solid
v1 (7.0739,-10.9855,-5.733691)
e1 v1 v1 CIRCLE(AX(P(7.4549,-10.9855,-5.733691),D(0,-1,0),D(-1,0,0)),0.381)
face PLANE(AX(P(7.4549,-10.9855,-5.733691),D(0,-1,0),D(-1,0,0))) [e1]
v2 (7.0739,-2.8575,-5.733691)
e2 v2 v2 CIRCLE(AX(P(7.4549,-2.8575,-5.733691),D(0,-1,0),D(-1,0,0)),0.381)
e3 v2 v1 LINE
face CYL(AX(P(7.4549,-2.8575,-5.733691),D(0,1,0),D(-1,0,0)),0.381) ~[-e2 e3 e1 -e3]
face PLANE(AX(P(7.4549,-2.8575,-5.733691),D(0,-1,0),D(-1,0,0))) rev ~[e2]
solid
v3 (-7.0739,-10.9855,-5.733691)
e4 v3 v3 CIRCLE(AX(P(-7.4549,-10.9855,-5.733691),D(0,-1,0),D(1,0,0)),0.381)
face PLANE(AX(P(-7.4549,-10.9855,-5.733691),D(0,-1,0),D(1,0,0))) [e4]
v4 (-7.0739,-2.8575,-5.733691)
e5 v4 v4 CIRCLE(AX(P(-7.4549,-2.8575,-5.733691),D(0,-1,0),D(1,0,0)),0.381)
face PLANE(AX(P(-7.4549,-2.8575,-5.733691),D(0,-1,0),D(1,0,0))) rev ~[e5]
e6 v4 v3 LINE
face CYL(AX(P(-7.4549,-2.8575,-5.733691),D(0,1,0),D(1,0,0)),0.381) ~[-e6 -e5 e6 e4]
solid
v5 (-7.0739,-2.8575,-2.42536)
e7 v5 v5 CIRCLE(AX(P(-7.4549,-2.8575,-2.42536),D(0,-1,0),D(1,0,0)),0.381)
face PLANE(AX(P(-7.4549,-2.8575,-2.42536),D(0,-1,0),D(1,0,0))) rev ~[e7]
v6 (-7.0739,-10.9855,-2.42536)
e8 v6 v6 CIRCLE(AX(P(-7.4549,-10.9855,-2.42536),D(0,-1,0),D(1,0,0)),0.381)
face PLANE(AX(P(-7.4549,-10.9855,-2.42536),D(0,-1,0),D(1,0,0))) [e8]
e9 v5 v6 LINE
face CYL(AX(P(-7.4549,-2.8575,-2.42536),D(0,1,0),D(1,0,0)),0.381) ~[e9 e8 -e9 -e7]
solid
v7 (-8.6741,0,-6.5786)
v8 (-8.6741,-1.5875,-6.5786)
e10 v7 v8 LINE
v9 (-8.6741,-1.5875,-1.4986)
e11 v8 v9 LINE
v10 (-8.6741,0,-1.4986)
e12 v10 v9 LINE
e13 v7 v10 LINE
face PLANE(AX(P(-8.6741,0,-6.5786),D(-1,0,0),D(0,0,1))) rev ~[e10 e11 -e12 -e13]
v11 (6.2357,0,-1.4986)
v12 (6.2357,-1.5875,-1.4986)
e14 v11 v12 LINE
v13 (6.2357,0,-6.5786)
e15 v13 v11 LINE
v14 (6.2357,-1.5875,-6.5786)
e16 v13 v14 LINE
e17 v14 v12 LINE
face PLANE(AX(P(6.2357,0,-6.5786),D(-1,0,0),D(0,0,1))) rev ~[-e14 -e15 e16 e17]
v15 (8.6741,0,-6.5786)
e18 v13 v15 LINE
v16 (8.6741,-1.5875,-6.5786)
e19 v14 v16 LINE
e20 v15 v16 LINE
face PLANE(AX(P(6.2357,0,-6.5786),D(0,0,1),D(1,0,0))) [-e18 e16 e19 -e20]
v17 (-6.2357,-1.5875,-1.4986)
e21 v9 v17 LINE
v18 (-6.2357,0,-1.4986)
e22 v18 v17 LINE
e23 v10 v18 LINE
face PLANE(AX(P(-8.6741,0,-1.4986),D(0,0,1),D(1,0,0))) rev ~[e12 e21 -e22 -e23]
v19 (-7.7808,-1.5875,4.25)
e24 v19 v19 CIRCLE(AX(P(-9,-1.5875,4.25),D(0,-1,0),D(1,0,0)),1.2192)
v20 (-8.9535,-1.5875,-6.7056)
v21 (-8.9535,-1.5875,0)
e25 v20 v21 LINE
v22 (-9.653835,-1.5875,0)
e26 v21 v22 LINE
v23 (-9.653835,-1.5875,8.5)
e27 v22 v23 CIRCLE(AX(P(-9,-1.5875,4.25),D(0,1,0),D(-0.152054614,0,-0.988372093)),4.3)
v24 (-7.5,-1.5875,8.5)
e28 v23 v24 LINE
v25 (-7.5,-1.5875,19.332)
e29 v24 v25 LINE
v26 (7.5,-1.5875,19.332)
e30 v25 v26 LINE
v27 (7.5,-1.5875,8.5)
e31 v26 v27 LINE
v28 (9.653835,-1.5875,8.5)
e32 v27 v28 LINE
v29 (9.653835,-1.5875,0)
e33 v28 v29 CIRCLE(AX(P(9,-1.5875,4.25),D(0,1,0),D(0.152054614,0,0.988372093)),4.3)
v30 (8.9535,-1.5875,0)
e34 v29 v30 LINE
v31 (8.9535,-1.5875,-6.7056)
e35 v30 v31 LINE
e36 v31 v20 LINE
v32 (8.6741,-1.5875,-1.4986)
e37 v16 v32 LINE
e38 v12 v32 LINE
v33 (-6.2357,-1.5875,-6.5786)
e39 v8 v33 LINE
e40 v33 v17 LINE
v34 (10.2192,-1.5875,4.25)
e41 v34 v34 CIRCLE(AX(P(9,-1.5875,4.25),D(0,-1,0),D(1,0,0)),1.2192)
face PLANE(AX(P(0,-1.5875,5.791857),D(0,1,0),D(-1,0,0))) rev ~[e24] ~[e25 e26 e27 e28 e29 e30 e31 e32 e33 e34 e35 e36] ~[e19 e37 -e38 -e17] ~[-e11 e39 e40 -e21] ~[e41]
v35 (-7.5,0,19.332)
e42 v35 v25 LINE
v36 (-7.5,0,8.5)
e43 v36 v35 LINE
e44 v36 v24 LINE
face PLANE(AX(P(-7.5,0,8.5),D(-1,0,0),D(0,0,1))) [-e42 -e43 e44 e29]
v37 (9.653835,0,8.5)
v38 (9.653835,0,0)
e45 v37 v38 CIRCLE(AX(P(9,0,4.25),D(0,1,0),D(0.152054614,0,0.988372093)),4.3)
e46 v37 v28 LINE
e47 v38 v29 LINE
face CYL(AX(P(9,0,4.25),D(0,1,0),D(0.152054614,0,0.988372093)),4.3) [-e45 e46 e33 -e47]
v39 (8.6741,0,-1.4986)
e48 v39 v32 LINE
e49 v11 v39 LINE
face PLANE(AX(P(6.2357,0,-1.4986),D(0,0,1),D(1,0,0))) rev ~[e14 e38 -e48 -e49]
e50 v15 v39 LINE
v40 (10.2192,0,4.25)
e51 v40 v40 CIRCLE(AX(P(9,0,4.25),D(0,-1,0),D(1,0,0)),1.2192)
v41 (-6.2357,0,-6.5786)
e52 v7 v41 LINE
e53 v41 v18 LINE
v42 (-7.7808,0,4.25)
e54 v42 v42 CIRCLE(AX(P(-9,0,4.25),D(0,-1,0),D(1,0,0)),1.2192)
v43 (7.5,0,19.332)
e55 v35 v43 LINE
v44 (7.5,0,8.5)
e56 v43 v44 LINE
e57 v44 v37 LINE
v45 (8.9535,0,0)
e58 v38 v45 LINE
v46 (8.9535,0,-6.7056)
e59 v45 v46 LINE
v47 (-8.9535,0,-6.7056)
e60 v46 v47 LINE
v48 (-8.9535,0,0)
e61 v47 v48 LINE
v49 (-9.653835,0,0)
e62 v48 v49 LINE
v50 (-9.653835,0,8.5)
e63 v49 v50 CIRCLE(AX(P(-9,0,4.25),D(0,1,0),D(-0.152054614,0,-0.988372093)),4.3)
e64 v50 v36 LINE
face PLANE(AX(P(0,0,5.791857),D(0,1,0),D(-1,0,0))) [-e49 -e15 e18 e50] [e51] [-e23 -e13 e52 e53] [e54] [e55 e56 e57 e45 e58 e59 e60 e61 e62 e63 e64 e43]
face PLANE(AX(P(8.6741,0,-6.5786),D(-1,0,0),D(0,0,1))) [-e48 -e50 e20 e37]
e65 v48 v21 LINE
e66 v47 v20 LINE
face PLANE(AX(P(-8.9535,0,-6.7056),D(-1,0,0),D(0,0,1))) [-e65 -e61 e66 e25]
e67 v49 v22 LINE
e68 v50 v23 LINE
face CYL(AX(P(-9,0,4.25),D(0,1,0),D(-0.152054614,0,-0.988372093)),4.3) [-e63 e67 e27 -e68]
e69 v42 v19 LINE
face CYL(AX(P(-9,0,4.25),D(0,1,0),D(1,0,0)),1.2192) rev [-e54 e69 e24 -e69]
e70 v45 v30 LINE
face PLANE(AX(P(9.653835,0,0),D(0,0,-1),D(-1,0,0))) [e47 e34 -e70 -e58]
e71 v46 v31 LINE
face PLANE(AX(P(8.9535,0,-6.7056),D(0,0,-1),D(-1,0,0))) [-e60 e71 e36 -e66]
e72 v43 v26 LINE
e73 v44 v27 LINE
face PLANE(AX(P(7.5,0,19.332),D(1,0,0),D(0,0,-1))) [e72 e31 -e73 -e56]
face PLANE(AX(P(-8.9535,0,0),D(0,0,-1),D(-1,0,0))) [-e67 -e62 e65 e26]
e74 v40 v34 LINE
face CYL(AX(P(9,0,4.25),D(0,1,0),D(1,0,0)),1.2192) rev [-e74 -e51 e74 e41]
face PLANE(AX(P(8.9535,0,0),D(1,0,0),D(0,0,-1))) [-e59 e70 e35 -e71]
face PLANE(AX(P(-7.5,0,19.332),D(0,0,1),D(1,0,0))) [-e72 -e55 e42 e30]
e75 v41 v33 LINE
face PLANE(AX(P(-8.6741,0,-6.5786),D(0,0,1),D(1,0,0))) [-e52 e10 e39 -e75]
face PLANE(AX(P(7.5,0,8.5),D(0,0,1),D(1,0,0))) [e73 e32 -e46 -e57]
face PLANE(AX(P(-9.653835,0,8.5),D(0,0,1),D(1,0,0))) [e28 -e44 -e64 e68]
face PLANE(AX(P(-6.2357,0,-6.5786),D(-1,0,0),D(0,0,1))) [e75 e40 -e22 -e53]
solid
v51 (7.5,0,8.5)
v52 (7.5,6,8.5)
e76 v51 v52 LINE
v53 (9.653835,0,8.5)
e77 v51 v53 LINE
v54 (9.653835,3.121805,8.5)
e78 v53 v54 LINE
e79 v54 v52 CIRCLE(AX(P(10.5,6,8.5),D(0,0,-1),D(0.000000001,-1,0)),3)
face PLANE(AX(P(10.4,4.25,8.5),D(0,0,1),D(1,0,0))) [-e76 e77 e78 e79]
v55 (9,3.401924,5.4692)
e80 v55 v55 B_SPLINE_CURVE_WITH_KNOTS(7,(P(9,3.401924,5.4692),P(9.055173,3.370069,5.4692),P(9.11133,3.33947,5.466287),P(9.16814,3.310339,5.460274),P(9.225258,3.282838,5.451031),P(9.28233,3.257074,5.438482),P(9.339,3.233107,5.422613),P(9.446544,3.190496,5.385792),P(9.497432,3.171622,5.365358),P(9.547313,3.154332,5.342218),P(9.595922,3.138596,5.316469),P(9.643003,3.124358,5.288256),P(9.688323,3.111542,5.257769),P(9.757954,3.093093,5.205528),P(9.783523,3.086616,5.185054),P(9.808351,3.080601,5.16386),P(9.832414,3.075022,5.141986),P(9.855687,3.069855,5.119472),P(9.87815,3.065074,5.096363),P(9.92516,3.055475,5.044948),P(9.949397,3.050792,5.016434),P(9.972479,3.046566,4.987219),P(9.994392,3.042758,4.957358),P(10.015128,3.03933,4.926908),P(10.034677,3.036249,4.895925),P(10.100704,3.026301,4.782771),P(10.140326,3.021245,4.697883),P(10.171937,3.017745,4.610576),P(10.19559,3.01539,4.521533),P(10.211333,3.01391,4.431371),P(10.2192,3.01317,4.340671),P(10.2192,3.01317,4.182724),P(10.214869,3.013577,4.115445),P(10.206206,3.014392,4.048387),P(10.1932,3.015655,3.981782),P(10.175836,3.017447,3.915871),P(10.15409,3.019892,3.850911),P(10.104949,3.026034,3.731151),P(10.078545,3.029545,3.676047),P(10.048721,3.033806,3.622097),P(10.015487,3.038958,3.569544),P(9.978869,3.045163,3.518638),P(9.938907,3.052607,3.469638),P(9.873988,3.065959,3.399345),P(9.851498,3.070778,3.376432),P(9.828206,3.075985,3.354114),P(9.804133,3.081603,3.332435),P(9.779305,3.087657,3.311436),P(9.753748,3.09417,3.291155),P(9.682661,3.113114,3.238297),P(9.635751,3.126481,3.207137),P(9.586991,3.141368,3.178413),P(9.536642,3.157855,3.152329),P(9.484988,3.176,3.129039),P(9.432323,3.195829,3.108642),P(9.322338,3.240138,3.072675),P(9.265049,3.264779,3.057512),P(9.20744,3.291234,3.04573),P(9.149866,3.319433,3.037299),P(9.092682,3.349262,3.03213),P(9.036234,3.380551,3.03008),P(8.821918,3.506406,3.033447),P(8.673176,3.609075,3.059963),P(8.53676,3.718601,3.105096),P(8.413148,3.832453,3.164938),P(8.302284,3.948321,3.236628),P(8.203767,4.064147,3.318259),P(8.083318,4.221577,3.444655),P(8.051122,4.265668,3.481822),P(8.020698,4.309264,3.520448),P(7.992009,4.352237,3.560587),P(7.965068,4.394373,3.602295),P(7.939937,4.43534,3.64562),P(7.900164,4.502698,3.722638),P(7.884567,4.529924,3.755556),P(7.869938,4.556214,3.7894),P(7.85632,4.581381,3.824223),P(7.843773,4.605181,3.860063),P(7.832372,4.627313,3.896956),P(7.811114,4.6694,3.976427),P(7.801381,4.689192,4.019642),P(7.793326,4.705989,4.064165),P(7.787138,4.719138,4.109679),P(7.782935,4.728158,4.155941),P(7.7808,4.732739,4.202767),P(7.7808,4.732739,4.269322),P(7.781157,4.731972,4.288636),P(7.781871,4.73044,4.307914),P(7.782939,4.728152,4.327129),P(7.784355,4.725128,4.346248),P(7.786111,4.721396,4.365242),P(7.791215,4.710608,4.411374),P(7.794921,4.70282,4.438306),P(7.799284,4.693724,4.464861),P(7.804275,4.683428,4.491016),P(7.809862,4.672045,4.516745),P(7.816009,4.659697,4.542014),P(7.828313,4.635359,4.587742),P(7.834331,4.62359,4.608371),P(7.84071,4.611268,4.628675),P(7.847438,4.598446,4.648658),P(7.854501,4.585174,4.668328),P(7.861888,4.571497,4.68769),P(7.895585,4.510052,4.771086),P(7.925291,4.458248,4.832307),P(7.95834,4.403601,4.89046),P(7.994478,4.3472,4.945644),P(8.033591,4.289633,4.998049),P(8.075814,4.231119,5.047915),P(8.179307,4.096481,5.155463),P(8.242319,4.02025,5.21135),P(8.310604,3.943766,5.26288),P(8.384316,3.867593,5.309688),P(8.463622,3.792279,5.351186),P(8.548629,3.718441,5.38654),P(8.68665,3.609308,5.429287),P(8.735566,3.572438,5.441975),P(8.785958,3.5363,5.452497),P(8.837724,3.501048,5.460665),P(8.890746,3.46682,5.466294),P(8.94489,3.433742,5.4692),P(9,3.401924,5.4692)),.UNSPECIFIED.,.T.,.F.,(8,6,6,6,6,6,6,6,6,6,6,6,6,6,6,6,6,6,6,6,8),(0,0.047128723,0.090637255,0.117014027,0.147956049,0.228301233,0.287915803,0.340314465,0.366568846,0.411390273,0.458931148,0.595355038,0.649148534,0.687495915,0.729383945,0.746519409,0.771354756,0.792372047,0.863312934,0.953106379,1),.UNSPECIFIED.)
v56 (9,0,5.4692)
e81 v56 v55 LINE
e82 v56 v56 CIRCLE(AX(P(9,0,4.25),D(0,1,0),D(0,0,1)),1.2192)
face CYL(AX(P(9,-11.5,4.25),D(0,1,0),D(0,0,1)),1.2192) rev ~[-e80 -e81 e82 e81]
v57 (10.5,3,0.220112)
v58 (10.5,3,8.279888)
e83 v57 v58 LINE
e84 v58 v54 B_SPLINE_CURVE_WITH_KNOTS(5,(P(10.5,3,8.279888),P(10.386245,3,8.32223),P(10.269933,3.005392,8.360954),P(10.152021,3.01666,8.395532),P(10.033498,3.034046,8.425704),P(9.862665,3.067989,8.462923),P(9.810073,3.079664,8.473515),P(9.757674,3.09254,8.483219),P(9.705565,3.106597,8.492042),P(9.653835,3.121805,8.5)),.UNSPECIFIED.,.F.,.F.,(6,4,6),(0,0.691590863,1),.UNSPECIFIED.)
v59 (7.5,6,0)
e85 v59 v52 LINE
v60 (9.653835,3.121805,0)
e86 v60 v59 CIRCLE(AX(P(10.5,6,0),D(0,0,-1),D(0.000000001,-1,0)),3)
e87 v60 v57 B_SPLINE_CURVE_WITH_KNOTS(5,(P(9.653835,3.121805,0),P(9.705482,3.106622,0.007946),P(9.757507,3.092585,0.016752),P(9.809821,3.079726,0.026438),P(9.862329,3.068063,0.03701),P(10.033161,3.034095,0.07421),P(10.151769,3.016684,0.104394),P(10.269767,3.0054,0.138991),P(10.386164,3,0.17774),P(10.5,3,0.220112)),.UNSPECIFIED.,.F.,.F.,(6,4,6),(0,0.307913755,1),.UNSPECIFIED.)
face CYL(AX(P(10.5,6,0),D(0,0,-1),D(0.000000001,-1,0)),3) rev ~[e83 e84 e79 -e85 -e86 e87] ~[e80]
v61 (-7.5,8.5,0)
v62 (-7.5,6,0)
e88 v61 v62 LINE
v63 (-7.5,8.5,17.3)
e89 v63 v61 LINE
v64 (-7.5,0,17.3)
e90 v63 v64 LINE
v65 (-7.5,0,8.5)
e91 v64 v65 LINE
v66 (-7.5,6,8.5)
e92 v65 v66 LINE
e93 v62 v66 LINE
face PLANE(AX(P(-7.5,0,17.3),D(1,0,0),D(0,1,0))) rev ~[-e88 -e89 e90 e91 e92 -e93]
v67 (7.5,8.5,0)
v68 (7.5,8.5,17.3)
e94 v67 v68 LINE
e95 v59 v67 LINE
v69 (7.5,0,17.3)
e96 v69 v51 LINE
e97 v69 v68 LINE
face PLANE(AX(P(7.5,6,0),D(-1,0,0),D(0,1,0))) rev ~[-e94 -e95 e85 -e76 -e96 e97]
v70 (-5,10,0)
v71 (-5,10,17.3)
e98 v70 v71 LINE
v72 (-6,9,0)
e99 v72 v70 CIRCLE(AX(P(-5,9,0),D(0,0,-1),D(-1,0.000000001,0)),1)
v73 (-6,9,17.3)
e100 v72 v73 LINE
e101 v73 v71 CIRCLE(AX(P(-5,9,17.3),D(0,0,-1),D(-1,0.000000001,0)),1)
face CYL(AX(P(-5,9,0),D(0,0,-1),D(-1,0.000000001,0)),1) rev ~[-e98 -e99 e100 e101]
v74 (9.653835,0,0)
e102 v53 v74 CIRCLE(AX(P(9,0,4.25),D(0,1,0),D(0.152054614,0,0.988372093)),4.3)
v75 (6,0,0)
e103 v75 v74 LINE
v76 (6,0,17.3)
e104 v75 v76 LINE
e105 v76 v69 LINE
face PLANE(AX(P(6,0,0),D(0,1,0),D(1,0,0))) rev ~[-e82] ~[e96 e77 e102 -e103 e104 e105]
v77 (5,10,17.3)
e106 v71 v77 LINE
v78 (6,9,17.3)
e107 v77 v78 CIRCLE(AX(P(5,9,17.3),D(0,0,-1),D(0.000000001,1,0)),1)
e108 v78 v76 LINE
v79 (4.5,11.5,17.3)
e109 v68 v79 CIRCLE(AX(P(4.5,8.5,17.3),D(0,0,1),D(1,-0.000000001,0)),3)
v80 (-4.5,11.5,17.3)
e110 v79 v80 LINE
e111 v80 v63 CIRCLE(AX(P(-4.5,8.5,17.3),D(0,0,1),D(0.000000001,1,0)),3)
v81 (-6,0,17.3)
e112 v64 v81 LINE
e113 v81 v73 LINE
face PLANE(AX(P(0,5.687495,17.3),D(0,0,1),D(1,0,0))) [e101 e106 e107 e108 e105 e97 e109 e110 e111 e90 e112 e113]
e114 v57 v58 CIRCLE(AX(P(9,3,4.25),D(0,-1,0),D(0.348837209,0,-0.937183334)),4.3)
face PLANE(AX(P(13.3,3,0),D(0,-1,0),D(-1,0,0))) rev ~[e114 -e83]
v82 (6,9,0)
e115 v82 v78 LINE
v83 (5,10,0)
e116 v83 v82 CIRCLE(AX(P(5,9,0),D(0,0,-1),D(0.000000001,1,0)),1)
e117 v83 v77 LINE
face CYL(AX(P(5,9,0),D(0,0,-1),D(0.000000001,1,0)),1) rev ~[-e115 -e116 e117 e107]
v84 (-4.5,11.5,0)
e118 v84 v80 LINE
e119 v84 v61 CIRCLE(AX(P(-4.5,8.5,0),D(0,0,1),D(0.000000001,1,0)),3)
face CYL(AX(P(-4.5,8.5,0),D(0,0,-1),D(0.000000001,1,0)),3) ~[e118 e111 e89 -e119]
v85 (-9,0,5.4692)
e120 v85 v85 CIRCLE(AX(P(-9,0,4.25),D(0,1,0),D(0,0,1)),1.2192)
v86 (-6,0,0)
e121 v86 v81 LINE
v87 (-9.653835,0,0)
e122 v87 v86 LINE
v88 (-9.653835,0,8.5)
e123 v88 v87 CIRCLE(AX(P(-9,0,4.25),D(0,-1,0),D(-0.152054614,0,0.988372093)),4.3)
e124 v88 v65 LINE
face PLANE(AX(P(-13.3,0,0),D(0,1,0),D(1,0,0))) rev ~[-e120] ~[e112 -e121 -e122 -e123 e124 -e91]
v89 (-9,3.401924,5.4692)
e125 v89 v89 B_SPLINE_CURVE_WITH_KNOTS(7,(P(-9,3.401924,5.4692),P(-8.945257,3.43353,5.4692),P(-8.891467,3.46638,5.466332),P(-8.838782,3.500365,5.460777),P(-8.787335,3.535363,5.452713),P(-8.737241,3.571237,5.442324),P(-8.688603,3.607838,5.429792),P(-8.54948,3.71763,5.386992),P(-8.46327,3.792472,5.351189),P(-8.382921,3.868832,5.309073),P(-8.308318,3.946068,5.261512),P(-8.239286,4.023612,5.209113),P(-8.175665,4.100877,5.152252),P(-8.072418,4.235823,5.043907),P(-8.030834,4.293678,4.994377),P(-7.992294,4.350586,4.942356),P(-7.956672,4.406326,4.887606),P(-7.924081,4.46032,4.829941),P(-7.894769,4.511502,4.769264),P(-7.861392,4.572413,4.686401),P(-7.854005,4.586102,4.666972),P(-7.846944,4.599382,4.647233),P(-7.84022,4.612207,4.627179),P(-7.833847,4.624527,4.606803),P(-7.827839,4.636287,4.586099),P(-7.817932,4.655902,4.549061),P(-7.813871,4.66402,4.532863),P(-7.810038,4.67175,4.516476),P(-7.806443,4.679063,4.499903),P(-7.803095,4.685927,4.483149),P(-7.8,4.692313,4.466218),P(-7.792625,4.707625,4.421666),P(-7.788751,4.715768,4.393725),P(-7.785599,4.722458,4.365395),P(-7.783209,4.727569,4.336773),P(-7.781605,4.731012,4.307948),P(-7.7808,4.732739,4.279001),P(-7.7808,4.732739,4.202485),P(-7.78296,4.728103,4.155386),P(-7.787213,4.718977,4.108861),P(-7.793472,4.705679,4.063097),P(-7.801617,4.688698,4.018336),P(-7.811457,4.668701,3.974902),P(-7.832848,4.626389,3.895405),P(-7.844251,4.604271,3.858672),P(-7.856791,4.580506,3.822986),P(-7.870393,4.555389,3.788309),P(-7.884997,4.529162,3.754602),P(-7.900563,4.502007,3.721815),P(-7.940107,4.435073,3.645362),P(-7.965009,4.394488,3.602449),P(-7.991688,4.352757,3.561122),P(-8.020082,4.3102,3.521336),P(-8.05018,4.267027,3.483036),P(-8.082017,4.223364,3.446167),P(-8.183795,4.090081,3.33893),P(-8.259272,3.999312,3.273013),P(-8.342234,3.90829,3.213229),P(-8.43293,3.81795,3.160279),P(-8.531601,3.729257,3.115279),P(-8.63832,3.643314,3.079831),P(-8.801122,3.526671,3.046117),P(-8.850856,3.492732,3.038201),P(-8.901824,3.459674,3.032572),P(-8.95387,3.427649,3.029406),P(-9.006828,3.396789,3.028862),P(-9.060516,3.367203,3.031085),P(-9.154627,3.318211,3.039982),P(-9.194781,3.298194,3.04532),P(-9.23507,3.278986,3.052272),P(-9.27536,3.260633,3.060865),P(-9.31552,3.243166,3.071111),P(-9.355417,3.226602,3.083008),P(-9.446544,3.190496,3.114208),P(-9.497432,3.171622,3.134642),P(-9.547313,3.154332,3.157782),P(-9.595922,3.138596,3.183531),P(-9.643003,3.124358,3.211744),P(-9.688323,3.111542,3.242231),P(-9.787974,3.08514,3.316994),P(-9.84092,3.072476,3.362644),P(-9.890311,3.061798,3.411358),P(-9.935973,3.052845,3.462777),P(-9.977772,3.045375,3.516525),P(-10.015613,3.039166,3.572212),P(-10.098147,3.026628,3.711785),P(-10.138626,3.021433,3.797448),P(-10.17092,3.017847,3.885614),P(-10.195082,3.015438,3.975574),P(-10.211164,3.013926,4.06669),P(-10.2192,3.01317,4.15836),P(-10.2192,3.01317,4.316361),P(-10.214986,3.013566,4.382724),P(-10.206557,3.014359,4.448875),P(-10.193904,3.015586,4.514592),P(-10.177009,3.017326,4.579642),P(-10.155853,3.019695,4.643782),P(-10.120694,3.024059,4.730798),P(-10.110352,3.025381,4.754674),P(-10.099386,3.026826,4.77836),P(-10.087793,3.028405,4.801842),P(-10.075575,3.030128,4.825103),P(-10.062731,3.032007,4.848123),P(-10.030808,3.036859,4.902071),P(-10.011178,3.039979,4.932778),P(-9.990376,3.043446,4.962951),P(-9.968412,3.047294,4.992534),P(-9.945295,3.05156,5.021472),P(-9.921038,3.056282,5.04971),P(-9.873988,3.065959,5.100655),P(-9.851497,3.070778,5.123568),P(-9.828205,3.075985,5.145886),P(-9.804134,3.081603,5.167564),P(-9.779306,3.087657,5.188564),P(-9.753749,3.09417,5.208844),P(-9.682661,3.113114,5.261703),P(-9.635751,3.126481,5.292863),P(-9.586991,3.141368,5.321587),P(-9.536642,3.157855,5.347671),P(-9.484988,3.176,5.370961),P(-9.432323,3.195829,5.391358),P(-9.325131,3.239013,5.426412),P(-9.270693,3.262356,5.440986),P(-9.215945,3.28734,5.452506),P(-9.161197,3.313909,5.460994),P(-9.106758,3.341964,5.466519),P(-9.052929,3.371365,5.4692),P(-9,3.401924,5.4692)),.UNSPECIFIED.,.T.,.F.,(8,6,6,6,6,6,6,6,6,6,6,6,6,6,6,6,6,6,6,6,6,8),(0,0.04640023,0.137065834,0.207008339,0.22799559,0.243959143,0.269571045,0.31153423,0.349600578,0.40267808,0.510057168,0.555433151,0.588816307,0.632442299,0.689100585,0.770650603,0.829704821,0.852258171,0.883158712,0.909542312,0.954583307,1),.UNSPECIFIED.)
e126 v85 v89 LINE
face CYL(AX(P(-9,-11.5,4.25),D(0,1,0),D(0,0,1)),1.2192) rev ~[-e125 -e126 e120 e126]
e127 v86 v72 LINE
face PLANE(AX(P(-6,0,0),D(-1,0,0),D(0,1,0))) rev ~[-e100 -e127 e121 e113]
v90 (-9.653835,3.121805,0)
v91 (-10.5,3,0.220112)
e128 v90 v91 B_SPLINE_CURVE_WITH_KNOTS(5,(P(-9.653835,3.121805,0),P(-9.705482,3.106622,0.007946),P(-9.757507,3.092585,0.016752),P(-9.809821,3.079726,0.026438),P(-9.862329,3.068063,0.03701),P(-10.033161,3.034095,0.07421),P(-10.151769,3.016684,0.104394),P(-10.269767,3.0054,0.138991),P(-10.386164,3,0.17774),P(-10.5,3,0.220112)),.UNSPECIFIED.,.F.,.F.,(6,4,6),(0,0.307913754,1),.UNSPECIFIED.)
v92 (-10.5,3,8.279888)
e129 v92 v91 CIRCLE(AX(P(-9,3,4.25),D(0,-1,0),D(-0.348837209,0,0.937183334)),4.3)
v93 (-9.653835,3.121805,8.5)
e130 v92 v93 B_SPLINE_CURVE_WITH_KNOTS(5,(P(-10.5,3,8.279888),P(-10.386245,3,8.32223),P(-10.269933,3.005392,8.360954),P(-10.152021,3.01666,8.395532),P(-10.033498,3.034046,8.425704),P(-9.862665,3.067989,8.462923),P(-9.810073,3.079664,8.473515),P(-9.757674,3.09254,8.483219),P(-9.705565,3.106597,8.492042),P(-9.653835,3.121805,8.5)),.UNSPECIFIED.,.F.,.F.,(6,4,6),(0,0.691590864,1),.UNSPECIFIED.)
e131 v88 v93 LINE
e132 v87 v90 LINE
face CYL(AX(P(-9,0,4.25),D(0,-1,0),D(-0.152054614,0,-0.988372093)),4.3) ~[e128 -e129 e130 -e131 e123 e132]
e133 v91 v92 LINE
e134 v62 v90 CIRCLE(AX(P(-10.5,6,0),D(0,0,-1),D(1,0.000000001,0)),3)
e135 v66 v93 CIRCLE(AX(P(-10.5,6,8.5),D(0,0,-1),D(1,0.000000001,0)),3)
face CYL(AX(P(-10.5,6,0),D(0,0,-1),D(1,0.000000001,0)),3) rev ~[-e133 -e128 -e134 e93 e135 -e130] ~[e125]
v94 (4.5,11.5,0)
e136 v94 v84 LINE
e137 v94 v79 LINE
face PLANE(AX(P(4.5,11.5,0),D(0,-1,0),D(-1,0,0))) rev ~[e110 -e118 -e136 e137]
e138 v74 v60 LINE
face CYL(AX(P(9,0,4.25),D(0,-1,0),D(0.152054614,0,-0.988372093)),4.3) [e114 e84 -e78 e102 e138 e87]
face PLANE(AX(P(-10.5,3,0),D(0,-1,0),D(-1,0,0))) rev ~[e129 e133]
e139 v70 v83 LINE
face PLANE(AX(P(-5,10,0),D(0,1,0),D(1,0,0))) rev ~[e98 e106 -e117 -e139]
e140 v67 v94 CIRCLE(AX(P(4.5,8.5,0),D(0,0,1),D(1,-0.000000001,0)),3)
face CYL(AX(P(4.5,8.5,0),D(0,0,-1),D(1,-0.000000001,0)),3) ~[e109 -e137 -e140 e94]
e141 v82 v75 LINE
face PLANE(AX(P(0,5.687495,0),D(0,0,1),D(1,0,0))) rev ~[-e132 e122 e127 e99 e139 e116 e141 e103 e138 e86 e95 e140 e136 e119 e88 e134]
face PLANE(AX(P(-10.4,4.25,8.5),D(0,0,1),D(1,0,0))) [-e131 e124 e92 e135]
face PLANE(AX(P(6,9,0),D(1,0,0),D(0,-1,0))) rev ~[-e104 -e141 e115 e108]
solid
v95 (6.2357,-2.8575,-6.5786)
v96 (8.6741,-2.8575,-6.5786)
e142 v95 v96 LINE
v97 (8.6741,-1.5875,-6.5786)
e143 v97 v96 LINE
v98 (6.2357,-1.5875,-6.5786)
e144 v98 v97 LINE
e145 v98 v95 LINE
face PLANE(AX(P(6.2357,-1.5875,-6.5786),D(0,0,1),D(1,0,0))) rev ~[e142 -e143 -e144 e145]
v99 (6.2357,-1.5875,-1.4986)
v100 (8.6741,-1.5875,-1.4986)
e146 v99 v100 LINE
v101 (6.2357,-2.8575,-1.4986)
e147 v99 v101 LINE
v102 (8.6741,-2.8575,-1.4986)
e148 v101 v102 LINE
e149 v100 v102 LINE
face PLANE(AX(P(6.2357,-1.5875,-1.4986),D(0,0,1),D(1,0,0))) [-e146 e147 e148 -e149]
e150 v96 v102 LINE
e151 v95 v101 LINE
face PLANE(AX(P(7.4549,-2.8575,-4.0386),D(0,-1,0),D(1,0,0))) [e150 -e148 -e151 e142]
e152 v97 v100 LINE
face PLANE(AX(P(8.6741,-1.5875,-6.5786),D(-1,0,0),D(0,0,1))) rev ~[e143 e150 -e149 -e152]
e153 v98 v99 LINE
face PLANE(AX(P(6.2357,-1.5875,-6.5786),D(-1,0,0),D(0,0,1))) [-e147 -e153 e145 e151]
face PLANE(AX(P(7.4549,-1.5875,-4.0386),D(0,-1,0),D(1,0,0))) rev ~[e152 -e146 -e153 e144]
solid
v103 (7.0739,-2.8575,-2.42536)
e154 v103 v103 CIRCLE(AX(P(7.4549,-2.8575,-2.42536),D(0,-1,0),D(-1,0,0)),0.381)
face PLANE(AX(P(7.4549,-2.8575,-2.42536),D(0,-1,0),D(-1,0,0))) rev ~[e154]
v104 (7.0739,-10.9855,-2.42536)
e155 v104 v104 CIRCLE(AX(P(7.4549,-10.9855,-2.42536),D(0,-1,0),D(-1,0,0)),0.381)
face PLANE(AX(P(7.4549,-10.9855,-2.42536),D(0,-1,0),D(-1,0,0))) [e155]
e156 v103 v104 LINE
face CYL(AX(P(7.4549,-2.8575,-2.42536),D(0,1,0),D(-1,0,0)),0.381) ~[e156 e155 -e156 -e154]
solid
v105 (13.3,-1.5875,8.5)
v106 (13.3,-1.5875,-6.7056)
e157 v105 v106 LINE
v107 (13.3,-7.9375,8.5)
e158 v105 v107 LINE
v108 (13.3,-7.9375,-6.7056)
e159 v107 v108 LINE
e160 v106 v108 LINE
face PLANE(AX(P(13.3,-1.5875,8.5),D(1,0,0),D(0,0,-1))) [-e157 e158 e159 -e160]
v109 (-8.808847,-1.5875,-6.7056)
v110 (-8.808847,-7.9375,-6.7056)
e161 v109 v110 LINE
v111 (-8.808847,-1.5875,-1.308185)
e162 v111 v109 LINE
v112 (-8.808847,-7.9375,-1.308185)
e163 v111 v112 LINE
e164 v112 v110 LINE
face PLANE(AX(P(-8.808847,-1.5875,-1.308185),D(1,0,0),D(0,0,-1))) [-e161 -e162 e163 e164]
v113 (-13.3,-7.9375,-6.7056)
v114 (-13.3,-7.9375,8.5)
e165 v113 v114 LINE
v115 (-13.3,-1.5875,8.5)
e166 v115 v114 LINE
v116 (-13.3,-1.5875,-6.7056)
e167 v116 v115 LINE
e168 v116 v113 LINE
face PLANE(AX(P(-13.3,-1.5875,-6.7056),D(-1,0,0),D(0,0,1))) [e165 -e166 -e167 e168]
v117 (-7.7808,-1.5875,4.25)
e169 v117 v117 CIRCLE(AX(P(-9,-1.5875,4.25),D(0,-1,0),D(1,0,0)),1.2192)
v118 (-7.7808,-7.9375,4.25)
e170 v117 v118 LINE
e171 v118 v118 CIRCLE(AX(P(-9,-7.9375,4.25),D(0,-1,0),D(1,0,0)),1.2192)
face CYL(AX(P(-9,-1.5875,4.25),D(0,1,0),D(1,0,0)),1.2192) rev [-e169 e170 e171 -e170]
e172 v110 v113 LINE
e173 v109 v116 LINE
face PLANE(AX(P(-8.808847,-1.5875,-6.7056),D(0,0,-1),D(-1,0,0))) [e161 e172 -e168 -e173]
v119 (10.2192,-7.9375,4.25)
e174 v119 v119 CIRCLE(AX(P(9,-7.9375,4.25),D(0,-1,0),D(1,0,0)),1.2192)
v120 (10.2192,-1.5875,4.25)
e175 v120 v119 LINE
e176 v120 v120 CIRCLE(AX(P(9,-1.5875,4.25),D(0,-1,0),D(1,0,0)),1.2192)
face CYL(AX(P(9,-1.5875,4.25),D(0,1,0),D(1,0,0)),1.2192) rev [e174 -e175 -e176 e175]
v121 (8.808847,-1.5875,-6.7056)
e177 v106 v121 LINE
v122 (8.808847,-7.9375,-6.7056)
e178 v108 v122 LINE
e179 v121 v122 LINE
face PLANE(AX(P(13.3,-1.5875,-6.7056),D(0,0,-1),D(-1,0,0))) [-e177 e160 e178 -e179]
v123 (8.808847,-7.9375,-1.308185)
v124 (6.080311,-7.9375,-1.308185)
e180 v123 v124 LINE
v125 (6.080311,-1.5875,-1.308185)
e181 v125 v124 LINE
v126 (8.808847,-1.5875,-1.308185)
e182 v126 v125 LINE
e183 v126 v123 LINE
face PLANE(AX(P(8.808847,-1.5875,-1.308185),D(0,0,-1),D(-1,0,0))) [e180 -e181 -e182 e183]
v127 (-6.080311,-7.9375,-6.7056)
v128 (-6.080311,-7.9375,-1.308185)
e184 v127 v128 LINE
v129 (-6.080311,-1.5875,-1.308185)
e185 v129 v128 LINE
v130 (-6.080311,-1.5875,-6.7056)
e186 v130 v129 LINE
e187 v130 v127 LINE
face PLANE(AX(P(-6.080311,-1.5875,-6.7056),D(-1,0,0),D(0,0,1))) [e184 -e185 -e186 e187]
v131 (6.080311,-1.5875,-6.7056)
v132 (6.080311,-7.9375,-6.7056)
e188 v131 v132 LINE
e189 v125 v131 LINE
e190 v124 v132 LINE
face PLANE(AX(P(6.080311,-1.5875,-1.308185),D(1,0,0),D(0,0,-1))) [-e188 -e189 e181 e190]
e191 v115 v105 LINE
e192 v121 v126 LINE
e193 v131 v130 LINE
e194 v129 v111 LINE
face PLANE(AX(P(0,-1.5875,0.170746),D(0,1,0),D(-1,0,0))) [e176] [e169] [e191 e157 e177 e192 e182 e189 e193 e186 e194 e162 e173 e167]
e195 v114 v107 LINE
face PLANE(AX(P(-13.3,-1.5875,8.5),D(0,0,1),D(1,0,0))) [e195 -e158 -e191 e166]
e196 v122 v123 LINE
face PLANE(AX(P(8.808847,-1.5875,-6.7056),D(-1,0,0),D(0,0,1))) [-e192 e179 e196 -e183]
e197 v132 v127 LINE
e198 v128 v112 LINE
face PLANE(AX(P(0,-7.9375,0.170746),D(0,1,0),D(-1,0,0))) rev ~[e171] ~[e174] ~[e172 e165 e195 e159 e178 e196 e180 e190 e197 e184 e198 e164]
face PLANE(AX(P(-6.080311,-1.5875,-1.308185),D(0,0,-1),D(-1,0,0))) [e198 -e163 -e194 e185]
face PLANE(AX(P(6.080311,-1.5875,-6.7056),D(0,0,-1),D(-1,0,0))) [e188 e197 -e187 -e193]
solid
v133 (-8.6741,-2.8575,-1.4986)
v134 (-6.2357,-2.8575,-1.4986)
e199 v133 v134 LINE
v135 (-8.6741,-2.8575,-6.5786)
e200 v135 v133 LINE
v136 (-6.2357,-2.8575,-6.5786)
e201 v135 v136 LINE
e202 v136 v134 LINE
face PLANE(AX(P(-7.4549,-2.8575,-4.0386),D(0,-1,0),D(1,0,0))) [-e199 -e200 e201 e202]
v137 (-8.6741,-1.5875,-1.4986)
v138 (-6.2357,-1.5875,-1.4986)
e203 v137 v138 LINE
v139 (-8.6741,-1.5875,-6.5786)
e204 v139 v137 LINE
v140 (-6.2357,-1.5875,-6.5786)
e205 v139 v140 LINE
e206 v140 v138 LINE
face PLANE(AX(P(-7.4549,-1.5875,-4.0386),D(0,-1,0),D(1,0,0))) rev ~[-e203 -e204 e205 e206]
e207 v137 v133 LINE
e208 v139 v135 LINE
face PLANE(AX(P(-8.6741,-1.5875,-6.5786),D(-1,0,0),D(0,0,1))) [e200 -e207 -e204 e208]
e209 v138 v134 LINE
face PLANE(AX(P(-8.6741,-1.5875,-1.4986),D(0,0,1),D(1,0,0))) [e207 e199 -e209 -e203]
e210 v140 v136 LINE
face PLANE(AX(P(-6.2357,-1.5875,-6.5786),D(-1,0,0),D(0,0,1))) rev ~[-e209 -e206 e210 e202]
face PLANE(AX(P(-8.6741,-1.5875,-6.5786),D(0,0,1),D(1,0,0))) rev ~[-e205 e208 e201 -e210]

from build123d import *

# Parameters (mm, degrees)
EXTRUDE1_DEPTH            = 17.3
SKETCH2_W                 = 5.8
SKETCH2_H                 = 8.5
EXTRUDE2_DEPTH            = 8.8
SKETCH3_R                 = 1
EXTRUDE3_DEPTH            = 5
F_2_CLEARANCE_HOLE1_D     = 2.4384
F_2_CLEARANCE_HOLE1_DEPTH = 11.5
SKETCH5_R                 = 1.2192
SKETCH5_W                 = 2.4384
SKETCH5_H                 = 5.08
EXTRUDE4_DEPTH            = 1.5875
SKETCH6_W                 = 2.4384
SKETCH6_H                 = 5.08
EXTRUDE5_DEPTH            = 1.27
EXTRUDE5_2_DEPTH          = 1.27
SKETCH7_R                 = 0.381
EXTRUDE6_DEPTH            = 8.128
EXTRUDE6_2_DEPTH          = 8.128
EXTRUDE6_3_DEPTH          = 8.128
EXTRUDE6_4_DEPTH          = 8.128
SKETCH8_R                 = 1.2192
EXTRUDE7_DEPTH            = 6.35


with BuildPart() as part:
    # Sketch1 → Extrude1 (new body)
    with BuildSketch(Plane.XY):
        with BuildLine():
            Line((-13.3, 0), (-6, 0))
            Line((-6, 0), (-6, 9))
            ThreePointArc((-6, 9), (-5.707106781, 9.707106781), (-5, 10))
            Line((-5, 10), (5, 10))
            ThreePointArc((5, 10), (5.707106781, 9.707106781), (6, 9))
            Line((6, 9), (6, 0))
            Line((6, 0), (13.3, 0))
            Line((13.3, 0), (13.3, 3))
            Line((13.3, 3), (10.5, 3))
            ThreePointArc((10.5, 3), (8.378679656, 3.878679656), (7.5, 6))
            Line((7.5, 6), (7.5, 8.5))
            ThreePointArc((7.5, 8.5), (6.621320344, 10.621320344), (4.5, 11.5))
            Line((4.5, 11.5), (-4.5, 11.5))
            ThreePointArc((-4.5, 11.5), (-6.621320344, 10.621320344), (-7.5, 8.5))
            Line((-7.5, 8.5), (-7.5, 6))
            ThreePointArc((-7.5, 6), (-8.378679656, 3.878679656), (-10.5, 3))
            Line((-10.5, 3), (-13.3, 3))
            Line((-13.3, 3), (-13.3, 0))
        make_face()
    extrude(amount=EXTRUDE1_DEPTH)

    # Sketch2 → Extrude2 (cut)
    with BuildSketch(Plane.XY.offset(17.3)):
        with Locations((-10.4, 4.25)):
            Rectangle(SKETCH2_W, SKETCH2_H)
        with Locations((10.4, 4.25)):
            Rectangle(SKETCH2_W, SKETCH2_H)
    extrude(amount=-EXTRUDE2_DEPTH, mode=Mode.SUBTRACT)

    # Sketch3 → Extrude3 (cut)
    with BuildSketch(Plane.XZ):
        with Locations(Location((-9, 4.25, 0), (0, 0, 270))):  # turned: the seam where the file's is
            Circle(SKETCH3_R)
        with Locations(Location((9, 4.25, 0), (0, 0, 270))):  # turned: the seam where the file's is
            Circle(SKETCH3_R)
        with BuildLine():
            Line((9.653834842, 8.5), (9.653834842, 9.262963398))
            Line((9.653834842, 9.262963398), (15.079268599, 9.262963398))
            Line((15.079268599, 9.262963398), (15.079268599, -0.486230121))
            Line((15.079268599, -0.486230121), (9.653834842, -0.486230121))
            Line((9.653834842, -0.486230121), (9.653834842, 0))
            ThreePointArc((9.653834842, 0), (13.3, 4.25), (9.653834842, 8.5))
        make_face()
        with BuildLine():
            Line((-9.653834842, -0.486230121), (-9.653834842, 0))
            ThreePointArc((-9.653834842, 0), (-13.3, 4.25), (-9.653834842, 8.5))
            Line((-9.653834842, 8.5), (-9.653834842, 9.262963398))
            Line((-9.653834842, 9.262963398), (-15.079268599, 9.262963398))
            Line((-15.079268599, 9.262963398), (-15.079268599, -0.486230121))
            Line((-15.079268599, -0.486230121), (-9.653834842, -0.486230121))
        make_face()
    extrude(amount=-EXTRUDE3_DEPTH, mode=Mode.SUBTRACT)

    # #2 Clearance Hole1
    with Locations(Plane(origin=(-9, 0, 4.25), x_dir=(0, 0, -1), z_dir=(0, -1, 0))):
        with Locations((0, 0), (0, 18)):
            Hole(F_2_CLEARANCE_HOLE1_D / 2, depth=F_2_CLEARANCE_HOLE1_DEPTH)


with BuildPart() as body_2:
    # Sketch5 → Extrude4 (new body)
    with BuildSketch(Plane.XZ):
        with BuildLine():
            Line((-8.9535, -6.7056), (-8.9535, 0))
            Line((-8.9535, 0), (-9.653834842, 0))
            ThreePointArc((-9.653834842, 0), (-13.3, 4.25), (-9.653834842, 8.5))
            Line((-9.653834842, 8.5), (-7.5, 8.5))
            Line((-7.5, 8.5), (-7.5, 19.332))
            Line((-7.5, 19.332), (7.5, 19.332))
            Line((7.5, 19.332), (7.5, 8.5))
            Line((7.5, 8.5), (9.653834842, 8.5))
            ThreePointArc((9.653834842, 8.5), (13.3, 4.25), (9.653834842, 0))
            Line((9.653834842, 0), (8.9535, 0))
            Line((8.9535, 0), (8.9535, -6.7056))
            Line((8.9535, -6.7056), (-8.9535, -6.7056))
        make_face()
        with Locations((9, 4.25)):
            Circle(SKETCH5_R, mode=Mode.SUBTRACT)
        with Locations((-9, 4.25)):
            Circle(SKETCH5_R, mode=Mode.SUBTRACT)
        with Locations((-7.4549, -4.0386)):
            Rectangle(SKETCH5_W, SKETCH5_H, mode=Mode.SUBTRACT)
        with Locations((7.4549, -4.0386)):
            Rectangle(SKETCH5_W, SKETCH5_H, mode=Mode.SUBTRACT)
    extrude(amount=EXTRUDE4_DEPTH)


with BuildPart() as body_3:
    # Sketch6 → Extrude5 (new body)
    with BuildSketch(Plane.XZ.offset(1.5875)):
        with Locations((7.4549, -4.0386)):
            Rectangle(SKETCH6_W, SKETCH6_H)
    extrude(amount=EXTRUDE5_DEPTH)


with BuildPart() as body_4:
    # Sketch6 → Extrude5 2 (new body)
    with BuildSketch(Plane.XZ.offset(1.5875)):
        with Locations((-7.4549, -4.0386)):
            Rectangle(SKETCH6_W, SKETCH6_H)
    extrude(amount=EXTRUDE5_2_DEPTH)


with BuildPart() as body_5:
    # Sketch7 → Extrude6 (new body)
    with BuildSketch(Plane.XZ.offset(2.8575)):
        with Locations((-7.4549, -2.425360111)):
            Circle(SKETCH7_R)
    extrude(amount=EXTRUDE6_DEPTH)


with BuildPart() as body_6:
    # Sketch7 → Extrude6 2 (new body)
    with BuildSketch(Plane.XZ.offset(2.8575)):
        with Locations((-7.4549, -5.733691209)):
            Circle(SKETCH7_R)
    extrude(amount=EXTRUDE6_2_DEPTH)


with BuildPart() as body_7:
    # Sketch7 → Extrude6 3 (new body)
    with BuildSketch(Plane.XZ.offset(2.8575)):
        with Locations(Location((7.4549, -5.733691209, 0), (0, 0, 180))):  # turned: the seam where the file's is
            Circle(SKETCH7_R)
    extrude(amount=EXTRUDE6_3_DEPTH)


with BuildPart() as body_8:
    # Sketch7 → Extrude6 4 (new body)
    with BuildSketch(Plane.XZ.offset(2.8575)):
        with Locations(Location((7.4549, -2.425360111, 0), (0, 0, 180))):  # turned: the seam where the file's is
            Circle(SKETCH7_R)
    extrude(amount=EXTRUDE6_4_DEPTH)


with BuildPart() as body_9:
    # Sketch8 → Extrude7 (new body)
    with BuildSketch(Plane.XZ.offset(1.5875)):
        Polygon((-13.3, 8.5), (13.3, 8.5), (13.3, -6.7056), (8.808846723, -6.7056), (8.808846723, -1.308184758), (6.080310838, -1.308184758), (6.080310838, -6.7056), (-6.080310838, -6.7056), (-6.080310838, -1.308184758), (-8.808846723, -1.308184758), (-8.808846723, -6.7056), (-13.3, -6.7056), align=None)
        with Locations((-9, 4.25)):
            Circle(SKETCH8_R, mode=Mode.SUBTRACT)
        with Locations((9, 4.25)):
            Circle(SKETCH8_R, mode=Mode.SUBTRACT)
    extrude(amount=EXTRUDE7_DEPTH)


solid = Compound([part.part, body_2.part, body_3.part, body_4.part, body_5.part, body_6.part, body_7.part, body_8.part, body_9.part])
